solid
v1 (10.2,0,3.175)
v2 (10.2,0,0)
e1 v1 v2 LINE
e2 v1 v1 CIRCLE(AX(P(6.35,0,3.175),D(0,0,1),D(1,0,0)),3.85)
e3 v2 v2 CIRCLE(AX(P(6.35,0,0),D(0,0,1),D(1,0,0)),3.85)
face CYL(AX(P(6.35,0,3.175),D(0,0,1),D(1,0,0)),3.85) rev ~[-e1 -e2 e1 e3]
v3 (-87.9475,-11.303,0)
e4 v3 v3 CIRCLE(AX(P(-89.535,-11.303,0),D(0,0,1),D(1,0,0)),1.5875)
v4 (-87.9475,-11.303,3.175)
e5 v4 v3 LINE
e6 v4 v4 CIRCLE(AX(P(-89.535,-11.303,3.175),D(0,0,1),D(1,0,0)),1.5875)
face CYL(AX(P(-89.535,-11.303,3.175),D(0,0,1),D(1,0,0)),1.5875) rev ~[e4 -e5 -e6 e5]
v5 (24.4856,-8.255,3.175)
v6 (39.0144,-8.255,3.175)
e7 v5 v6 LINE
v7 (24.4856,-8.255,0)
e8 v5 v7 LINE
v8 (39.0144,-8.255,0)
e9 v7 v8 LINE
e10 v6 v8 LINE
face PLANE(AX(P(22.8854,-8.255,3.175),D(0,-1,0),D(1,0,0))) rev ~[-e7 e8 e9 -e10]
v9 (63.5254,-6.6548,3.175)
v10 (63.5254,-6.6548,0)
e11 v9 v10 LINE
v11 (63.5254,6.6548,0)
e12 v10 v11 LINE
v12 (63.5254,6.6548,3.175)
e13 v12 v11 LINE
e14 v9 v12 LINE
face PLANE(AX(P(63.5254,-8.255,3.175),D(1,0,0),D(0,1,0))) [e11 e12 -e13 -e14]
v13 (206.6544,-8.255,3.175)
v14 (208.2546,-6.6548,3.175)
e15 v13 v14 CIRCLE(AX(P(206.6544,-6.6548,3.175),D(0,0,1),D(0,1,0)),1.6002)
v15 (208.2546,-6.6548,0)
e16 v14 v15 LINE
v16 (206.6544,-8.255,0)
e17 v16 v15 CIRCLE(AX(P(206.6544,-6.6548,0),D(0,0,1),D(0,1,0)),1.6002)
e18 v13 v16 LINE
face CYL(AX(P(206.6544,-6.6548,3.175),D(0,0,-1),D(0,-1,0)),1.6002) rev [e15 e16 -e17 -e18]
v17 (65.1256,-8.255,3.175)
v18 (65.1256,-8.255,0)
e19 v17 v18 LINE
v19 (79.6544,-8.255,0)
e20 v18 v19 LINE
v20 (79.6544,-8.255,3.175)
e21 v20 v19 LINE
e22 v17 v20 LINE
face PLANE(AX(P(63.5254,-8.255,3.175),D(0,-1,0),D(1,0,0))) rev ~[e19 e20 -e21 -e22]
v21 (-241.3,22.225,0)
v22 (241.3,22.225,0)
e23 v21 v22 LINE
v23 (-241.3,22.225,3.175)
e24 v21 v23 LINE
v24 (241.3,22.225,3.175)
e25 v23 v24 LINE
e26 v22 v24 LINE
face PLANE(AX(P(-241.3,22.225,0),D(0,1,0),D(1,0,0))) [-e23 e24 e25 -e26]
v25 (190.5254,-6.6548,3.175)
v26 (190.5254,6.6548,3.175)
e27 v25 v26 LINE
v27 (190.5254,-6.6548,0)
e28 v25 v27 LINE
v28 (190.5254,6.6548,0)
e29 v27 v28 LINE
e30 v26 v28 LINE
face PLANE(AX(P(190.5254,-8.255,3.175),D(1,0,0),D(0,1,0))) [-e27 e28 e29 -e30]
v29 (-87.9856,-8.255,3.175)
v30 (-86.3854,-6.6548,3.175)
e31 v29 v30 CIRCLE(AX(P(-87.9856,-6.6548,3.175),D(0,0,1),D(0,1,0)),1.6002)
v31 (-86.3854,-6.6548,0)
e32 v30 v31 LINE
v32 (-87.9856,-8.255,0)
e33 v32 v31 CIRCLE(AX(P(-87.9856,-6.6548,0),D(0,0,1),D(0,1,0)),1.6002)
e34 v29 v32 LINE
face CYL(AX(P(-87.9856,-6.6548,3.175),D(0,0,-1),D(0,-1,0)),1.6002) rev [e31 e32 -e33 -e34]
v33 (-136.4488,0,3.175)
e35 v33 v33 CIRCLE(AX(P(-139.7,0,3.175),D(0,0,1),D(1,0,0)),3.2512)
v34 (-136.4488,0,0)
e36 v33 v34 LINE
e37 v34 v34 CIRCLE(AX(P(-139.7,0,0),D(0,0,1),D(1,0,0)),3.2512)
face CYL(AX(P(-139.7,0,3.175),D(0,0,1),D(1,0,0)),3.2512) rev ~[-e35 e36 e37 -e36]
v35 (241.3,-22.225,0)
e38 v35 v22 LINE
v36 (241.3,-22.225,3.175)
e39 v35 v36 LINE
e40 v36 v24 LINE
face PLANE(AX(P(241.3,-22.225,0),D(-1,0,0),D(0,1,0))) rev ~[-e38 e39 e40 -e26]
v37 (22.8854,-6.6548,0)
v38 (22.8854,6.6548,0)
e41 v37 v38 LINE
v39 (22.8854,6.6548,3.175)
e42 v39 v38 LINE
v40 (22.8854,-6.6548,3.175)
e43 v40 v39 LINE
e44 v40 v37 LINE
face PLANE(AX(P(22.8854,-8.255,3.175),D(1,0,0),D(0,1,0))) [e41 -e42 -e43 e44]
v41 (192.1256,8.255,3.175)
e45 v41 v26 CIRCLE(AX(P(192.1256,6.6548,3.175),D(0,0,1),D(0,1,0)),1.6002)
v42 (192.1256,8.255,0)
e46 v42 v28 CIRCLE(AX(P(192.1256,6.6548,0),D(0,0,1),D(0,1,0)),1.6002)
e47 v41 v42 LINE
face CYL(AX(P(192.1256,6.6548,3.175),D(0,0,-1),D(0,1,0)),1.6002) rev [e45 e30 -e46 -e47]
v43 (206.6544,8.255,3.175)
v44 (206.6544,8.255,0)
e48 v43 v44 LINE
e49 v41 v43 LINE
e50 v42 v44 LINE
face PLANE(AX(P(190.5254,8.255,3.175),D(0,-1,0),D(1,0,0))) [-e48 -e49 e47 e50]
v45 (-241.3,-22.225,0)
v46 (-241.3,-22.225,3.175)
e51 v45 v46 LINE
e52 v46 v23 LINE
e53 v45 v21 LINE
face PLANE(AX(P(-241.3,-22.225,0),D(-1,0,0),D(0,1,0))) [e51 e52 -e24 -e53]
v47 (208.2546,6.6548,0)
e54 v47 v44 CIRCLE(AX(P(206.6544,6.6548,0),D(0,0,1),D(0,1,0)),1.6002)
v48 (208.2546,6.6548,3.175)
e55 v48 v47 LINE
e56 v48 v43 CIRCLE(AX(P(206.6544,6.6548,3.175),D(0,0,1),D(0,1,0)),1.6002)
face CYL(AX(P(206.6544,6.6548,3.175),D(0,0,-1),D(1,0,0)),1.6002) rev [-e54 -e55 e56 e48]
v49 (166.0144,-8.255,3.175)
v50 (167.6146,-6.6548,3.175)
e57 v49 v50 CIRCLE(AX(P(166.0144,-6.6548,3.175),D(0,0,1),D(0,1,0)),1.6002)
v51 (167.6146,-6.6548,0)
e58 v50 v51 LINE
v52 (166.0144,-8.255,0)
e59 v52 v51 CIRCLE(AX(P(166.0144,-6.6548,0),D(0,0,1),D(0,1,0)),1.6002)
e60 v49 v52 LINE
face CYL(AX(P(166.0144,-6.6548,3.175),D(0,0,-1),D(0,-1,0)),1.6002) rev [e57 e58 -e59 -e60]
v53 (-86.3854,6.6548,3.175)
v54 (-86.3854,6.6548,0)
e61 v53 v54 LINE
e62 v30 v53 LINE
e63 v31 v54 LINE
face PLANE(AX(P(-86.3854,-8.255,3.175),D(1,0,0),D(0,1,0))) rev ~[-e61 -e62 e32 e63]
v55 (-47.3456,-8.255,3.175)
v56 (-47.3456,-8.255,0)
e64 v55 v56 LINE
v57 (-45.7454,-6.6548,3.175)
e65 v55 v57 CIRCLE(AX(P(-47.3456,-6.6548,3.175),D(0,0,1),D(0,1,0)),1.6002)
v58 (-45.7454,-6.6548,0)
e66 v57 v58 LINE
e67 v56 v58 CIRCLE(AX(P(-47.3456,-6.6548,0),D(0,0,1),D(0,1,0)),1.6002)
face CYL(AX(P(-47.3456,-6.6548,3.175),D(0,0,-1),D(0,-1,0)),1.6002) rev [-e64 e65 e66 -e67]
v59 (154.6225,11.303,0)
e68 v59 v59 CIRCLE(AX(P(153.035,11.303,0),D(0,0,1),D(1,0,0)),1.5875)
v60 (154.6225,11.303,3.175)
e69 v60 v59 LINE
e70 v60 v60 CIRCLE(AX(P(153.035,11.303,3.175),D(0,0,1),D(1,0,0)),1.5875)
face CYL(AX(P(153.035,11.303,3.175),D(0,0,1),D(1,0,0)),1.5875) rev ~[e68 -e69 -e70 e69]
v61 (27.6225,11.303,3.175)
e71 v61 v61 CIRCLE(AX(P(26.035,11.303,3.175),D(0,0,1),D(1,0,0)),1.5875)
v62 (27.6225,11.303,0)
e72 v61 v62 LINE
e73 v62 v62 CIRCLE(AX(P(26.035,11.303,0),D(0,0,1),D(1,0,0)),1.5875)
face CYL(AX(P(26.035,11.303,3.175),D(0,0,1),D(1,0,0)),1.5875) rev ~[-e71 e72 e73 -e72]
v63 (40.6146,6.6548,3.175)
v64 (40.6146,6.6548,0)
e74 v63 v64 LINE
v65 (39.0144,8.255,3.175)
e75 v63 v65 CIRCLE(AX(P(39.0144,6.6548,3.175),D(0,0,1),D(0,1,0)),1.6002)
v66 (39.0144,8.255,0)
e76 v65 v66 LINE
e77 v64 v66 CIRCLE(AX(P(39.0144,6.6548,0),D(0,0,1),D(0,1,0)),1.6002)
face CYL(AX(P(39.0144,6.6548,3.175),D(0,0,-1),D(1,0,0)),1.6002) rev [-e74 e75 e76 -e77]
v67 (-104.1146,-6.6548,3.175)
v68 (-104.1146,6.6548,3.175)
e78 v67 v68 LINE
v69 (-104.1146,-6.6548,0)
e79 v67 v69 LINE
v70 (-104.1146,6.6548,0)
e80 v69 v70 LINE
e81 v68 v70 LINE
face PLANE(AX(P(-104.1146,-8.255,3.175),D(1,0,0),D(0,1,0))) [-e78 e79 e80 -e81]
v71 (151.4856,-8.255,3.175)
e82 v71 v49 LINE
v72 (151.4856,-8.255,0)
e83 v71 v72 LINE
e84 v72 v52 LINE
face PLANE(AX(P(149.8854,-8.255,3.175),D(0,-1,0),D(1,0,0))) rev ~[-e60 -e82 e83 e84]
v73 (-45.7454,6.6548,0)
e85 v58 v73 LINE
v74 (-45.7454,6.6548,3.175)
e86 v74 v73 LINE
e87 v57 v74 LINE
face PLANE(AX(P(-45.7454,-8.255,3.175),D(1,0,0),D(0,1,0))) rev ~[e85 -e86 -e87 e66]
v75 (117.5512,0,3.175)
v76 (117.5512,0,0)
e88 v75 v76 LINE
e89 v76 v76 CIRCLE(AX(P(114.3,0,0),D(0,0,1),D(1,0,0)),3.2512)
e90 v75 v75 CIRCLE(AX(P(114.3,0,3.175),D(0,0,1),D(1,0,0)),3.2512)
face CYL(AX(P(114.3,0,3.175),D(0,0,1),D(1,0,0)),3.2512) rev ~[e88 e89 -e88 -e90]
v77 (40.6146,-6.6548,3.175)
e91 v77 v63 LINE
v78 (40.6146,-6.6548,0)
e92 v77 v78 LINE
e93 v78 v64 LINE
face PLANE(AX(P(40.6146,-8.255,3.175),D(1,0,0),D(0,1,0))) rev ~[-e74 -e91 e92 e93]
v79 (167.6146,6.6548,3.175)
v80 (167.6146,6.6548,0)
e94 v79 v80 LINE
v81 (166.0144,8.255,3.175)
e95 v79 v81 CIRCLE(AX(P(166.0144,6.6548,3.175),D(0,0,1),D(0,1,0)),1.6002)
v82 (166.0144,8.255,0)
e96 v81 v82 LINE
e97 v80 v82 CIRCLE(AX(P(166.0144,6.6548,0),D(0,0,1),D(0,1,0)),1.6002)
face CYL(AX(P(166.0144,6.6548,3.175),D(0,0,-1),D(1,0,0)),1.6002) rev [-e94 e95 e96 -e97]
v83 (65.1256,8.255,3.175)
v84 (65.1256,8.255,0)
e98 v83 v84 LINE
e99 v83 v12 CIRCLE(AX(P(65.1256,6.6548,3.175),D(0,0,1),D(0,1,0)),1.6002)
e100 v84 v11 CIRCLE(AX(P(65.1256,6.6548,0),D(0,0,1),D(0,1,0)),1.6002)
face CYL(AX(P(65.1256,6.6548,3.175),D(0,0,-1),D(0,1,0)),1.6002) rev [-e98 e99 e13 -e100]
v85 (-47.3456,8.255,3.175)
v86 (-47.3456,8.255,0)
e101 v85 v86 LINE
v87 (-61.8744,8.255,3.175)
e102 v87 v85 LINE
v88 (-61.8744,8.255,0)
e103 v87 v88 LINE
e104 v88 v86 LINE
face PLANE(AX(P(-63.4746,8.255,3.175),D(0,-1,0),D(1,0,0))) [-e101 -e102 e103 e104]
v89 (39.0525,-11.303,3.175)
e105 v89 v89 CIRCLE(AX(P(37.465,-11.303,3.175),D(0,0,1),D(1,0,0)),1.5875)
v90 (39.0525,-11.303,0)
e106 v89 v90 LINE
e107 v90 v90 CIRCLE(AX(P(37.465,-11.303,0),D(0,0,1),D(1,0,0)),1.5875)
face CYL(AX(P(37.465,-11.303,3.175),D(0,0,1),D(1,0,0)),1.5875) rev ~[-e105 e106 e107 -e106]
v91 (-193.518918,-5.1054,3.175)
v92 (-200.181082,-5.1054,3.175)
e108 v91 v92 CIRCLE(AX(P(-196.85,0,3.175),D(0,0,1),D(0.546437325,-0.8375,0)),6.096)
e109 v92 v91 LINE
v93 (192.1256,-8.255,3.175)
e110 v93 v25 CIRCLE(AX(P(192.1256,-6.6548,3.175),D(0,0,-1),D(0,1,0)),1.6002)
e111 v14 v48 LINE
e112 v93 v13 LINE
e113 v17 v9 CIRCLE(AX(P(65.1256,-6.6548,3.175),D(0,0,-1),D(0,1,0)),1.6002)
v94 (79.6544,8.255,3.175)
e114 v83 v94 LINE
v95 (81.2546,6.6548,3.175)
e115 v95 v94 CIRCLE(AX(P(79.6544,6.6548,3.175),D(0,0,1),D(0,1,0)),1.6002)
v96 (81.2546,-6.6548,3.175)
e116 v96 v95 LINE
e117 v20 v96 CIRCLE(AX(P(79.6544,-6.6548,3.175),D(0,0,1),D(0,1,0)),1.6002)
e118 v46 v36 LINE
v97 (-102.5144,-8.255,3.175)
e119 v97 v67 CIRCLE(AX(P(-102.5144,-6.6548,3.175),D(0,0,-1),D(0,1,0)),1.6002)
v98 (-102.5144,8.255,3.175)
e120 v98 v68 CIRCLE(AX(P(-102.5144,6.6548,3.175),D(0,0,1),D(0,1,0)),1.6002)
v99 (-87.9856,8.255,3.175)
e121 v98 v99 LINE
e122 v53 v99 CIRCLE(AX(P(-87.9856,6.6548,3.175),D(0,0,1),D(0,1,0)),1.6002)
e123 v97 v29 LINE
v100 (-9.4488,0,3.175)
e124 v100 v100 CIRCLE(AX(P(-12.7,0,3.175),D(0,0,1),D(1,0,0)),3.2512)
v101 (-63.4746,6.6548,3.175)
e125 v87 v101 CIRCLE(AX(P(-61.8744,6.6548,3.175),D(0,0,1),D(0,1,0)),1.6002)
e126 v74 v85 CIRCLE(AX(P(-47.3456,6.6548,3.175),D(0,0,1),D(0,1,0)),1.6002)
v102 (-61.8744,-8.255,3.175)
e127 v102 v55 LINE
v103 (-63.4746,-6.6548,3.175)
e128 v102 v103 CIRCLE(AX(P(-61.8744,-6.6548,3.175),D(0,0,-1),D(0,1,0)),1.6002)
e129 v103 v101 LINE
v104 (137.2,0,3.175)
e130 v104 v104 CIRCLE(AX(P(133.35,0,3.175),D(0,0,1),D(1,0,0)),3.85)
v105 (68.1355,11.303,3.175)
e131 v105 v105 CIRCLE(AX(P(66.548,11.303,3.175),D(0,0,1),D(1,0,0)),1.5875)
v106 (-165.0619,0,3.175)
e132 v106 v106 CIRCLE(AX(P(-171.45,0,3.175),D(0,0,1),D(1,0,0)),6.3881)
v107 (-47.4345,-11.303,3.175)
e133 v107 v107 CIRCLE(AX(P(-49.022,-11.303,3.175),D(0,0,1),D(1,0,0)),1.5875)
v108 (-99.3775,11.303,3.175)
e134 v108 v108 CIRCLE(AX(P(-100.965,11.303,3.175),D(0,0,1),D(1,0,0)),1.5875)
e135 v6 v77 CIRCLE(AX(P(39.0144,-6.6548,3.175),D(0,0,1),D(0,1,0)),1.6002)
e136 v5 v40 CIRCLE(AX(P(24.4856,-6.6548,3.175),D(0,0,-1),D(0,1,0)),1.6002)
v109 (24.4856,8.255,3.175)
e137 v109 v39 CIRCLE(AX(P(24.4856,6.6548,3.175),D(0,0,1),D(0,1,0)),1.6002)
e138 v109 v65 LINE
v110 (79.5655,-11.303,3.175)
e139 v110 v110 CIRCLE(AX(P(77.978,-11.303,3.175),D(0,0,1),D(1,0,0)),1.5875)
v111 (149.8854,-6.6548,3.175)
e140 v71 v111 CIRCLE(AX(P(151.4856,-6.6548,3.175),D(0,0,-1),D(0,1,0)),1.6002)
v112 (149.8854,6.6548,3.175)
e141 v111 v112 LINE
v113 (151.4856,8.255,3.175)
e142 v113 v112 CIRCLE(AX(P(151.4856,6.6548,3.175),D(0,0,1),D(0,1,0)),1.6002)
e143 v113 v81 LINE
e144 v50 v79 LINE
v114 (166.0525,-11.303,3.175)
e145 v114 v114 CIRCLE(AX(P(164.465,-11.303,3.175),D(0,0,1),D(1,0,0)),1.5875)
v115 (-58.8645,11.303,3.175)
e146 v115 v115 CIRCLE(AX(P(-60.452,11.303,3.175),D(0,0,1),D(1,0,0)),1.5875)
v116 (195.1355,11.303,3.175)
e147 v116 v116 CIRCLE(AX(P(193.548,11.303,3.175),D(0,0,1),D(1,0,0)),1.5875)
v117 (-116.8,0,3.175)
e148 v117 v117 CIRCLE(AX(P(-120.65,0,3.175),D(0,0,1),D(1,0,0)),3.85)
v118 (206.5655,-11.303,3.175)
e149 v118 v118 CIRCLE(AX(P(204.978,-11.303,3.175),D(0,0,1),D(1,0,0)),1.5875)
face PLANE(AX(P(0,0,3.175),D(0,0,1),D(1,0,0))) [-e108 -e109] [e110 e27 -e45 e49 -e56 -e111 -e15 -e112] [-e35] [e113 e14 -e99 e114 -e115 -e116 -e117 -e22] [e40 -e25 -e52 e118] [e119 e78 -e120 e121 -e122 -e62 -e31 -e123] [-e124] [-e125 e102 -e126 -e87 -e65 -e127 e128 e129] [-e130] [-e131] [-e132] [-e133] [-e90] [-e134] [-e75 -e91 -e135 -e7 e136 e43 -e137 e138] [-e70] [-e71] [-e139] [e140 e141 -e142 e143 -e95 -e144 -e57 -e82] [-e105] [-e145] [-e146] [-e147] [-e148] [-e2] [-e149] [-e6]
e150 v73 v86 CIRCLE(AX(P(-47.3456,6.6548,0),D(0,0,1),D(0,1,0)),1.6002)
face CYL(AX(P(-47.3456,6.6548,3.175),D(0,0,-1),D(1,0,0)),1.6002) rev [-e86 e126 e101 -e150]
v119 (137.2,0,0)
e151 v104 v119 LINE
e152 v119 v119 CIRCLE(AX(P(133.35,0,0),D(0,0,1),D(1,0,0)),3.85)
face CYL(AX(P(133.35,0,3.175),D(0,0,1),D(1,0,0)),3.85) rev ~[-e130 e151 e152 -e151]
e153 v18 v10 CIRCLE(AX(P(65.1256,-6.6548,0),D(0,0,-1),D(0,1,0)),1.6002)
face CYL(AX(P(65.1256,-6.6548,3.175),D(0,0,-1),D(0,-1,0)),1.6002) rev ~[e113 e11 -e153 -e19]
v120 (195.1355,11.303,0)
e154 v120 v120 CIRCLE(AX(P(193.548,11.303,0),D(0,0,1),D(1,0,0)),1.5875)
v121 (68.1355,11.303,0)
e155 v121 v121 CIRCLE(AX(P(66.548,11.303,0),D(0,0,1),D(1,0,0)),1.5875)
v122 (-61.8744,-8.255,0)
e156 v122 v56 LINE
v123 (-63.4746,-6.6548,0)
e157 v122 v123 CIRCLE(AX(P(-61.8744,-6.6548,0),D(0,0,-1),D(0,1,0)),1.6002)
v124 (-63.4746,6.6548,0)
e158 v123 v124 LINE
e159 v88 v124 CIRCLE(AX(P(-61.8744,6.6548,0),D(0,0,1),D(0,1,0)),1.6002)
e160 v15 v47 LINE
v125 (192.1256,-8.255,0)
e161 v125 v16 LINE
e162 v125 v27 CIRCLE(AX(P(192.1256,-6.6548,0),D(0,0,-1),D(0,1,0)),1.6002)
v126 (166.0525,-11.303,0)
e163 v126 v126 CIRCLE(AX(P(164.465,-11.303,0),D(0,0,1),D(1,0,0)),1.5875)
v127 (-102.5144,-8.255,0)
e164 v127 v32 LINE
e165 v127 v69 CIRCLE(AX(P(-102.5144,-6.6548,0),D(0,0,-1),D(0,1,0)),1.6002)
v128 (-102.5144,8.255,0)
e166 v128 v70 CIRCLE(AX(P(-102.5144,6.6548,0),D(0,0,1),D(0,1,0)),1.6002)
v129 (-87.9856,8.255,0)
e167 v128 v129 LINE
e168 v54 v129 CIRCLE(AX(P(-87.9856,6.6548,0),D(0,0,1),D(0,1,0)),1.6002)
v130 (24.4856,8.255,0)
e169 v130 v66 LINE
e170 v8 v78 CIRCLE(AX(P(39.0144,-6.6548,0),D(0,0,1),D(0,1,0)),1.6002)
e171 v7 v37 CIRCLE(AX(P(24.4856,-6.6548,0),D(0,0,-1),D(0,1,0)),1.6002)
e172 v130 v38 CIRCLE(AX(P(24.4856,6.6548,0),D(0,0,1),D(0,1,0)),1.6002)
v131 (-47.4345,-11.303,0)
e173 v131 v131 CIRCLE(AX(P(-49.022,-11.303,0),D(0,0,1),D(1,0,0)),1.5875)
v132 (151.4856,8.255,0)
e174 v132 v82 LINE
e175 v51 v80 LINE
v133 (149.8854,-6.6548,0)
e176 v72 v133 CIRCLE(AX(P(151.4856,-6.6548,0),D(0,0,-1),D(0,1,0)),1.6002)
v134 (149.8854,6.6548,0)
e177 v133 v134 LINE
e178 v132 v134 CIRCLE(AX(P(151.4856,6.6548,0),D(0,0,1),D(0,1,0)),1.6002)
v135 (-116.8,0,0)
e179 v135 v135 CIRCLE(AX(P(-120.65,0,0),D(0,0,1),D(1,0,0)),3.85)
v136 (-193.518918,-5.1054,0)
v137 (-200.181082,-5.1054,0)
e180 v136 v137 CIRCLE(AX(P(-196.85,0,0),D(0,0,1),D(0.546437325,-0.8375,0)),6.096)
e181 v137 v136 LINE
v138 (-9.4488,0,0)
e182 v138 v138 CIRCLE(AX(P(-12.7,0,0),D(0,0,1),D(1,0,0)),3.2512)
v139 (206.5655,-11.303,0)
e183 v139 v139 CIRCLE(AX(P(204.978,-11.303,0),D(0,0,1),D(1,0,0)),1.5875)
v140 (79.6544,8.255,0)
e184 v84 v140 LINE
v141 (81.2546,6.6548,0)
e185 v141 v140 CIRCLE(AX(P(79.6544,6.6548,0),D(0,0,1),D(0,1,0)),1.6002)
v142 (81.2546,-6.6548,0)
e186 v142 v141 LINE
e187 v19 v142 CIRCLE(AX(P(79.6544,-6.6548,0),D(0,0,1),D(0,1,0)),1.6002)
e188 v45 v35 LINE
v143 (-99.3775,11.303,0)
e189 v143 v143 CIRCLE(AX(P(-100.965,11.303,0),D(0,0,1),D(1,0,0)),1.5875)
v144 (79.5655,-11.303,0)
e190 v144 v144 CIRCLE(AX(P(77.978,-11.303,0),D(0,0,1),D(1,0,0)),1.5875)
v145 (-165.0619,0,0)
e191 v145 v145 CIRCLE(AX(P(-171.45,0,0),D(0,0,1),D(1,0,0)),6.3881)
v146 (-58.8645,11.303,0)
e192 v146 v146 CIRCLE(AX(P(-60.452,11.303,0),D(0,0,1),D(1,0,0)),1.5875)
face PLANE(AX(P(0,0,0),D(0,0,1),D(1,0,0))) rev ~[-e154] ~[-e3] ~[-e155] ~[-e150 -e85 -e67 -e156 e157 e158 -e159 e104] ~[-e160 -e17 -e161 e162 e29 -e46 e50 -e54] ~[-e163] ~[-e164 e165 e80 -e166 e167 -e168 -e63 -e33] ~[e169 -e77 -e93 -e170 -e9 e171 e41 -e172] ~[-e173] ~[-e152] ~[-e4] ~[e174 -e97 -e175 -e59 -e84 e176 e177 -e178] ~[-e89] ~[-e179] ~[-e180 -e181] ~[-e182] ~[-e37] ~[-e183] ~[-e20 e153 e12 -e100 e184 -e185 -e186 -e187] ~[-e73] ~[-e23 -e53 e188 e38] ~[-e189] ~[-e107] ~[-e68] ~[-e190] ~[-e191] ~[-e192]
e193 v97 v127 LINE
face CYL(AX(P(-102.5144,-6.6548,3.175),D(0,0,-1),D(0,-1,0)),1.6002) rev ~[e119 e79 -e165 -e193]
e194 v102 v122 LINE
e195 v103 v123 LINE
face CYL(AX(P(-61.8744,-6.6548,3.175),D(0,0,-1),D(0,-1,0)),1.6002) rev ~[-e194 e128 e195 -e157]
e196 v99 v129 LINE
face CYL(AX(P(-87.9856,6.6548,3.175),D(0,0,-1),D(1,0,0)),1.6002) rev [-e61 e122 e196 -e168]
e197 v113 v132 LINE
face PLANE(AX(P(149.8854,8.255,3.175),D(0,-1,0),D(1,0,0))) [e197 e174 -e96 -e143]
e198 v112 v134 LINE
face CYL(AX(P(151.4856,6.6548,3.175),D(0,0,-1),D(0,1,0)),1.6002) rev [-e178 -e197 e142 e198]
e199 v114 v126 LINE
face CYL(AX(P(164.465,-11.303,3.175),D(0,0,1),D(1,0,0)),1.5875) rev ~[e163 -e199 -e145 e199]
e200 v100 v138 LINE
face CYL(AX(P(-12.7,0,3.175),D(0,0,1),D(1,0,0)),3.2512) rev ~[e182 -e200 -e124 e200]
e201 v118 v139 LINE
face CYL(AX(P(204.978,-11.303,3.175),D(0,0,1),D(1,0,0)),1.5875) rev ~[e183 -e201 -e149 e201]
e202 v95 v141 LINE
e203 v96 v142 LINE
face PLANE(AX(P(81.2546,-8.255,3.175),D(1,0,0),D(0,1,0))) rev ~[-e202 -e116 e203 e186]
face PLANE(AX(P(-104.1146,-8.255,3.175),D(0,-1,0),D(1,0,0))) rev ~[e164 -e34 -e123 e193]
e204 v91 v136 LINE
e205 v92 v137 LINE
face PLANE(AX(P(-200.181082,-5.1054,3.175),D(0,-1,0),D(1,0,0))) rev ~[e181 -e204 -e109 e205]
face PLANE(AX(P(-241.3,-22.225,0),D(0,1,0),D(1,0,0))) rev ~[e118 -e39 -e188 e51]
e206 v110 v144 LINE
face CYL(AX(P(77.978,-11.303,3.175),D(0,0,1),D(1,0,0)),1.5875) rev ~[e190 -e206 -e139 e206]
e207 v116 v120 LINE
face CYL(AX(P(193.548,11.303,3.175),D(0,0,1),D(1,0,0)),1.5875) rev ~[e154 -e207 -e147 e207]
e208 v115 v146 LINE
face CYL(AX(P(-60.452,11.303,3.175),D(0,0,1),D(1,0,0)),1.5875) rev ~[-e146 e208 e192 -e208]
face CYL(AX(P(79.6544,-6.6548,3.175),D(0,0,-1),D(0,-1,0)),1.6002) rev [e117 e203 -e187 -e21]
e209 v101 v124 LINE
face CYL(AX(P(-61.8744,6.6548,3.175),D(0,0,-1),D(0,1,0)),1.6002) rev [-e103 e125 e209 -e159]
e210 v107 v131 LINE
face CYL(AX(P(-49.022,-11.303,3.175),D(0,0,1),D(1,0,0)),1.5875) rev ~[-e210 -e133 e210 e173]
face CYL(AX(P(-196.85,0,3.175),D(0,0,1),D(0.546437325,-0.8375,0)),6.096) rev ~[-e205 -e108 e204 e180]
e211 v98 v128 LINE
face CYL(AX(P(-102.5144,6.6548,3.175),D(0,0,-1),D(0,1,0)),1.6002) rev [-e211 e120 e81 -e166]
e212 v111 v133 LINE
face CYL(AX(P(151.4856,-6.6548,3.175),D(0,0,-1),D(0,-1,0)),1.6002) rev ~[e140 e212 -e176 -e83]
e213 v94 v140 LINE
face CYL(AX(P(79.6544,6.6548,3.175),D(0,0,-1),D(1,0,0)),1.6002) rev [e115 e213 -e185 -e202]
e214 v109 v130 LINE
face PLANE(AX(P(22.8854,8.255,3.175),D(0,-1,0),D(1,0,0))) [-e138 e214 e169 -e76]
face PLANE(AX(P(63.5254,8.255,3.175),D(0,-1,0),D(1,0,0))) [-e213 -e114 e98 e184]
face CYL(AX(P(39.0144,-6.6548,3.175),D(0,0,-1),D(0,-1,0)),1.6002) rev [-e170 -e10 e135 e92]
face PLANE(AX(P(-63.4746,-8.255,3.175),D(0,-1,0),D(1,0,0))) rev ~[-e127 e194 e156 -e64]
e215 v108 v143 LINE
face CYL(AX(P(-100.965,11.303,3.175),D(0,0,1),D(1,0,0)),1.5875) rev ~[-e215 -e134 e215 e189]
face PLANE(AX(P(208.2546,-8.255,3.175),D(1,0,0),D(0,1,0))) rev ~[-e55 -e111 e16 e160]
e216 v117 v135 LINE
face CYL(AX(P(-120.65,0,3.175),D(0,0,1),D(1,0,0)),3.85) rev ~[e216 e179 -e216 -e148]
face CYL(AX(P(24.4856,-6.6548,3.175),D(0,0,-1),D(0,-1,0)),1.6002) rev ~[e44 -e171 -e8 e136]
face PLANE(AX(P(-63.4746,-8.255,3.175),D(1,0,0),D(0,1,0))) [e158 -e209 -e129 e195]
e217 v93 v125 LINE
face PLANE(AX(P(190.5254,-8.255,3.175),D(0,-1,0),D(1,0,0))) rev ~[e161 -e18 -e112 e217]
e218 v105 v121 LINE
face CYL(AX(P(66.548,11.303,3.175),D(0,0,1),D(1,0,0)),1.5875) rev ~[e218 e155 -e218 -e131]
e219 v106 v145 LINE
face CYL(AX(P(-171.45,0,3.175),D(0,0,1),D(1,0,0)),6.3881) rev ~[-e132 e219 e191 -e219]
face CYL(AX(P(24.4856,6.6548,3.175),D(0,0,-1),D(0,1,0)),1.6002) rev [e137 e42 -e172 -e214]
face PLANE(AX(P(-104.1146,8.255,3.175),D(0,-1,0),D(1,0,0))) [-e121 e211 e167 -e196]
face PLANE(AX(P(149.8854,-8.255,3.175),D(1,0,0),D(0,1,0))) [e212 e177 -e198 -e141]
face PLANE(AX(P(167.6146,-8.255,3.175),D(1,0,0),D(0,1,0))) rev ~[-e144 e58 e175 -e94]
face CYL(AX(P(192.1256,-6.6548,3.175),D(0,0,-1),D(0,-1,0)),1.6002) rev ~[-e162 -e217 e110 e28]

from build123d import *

# Parameters (mm, degrees)
SKETCH1_W              = 482.6
SKETCH1_H              = 44.45
BOSS_EXTRUDE1_DEPTH    = 3.175
SKETCH4_R              = 6.3881
CUT_EXTRUDE1_DEPTH     = 4.175
SKETCH3_R              = 3.85
SKETCH3_R_2            = 3.2512
SKETCH3_R_3            = 1.5875
SKETCH3_W              = 17.7292
SKETCH3_H              = 16.51
CUT_EXTRUDE2_DEPTH     = 4.175
FILLET1_R              = 1.6002
LPATTERN1_COUNT        = 3
LPATTERN1_PITCH        = 127
FILLET1_OF_LPATTERN1_R = 1.6002


with BuildPart() as part:
    # Sketch1 → Boss-Extrude1 (new body)
    with BuildSketch(Plane.XY):
        Rectangle(SKETCH1_W, SKETCH1_H)
    extrude(amount=BOSS_EXTRUDE1_DEPTH)

    # Sketch4 → Cut-Extrude1 (cut, through all)
    with BuildSketch(Plane.XY.offset(3.175)):
        with Locations((-171.45, 0)):
            Circle(SKETCH4_R)
        with BuildLine():
            Line((-200.181081932, -5.1054), (-193.518918068, -5.1054))
            ThreePointArc((-193.518918068, -5.1054), (-196.85, 6.096), (-200.181081932, -5.1054))
        make_face()
    extrude(amount=-CUT_EXTRUDE1_DEPTH, mode=Mode.SUBTRACT)

    # Sketch3 → Cut-Extrude2 (cut, through all)
    with BuildSketch(Plane.XY.offset(3.175)):
        with Locations((-120.65, 0)):
            Circle(SKETCH3_R)
        with Locations((-139.7, 0)):
            Circle(SKETCH3_R_2)
        with Locations((-100.965, 11.303)):
            Circle(SKETCH3_R_3)
        with Locations((-89.535, -11.303)):
            Circle(SKETCH3_R_3)
        with Locations((-60.452, 11.303)):
            Circle(SKETCH3_R_3)
        with Locations((-49.022, -11.303)):
            Circle(SKETCH3_R_3)
        with Locations((-95.25, 0)):
            Rectangle(SKETCH3_W, SKETCH3_H)
        with Locations((-54.61, 0)):
            Rectangle(SKETCH3_W, SKETCH3_H)
    cut_extrude2 = extrude(amount=-CUT_EXTRUDE2_DEPTH, mode=Mode.SUBTRACT)

    # Fillet1
    fillet1_edges = [part.edges().sort_by_distance(p)[0] for p in [
        (-45.7454, 8.255, 1.5875),
        (-45.7454, -8.255, 1.5875),
        (-63.4746, -8.255, 1.5875),
        (-63.4746, 8.255, 1.5875),
        (-86.3854, 8.255, 1.5875),
        (-86.3854, -8.255, 1.5875),
        (-104.1146, -8.255, 1.5875),
        (-104.1146, 8.255, 1.5875),
    ]]
    fillet(fillet1_edges, radius=FILLET1_R)

    # LPattern1: Cut-Extrude2 ×3
    with Locations(*[(i * LPATTERN1_PITCH, 0, 0) for i in range(1, LPATTERN1_COUNT)]):
        add(cut_extrude2, mode=Mode.SUBTRACT)

    # Fillet1 of LPattern1
    fillet1_of_lpattern1_edges = [part.edges().sort_by_distance(p)[0] for p in [
        (81.2546, 8.255, 1.5875),
        (81.2546, -8.255, 1.5875),
        (63.5254, -8.255, 1.5875),
        (63.5254, 8.255, 1.5875),
        (40.6146, 8.255, 1.5875),
        (40.6146, -8.255, 1.5875),
        (22.8854, -8.255, 1.5875),
        (22.8854, 8.255, 1.5875),
        (208.2546, 8.255, 1.5875),
        (208.2546, -8.255, 1.5875),
        (190.5254, -8.255, 1.5875),
        (190.5254, 8.255, 1.5875),
        (167.6146, 8.255, 1.5875),
        (167.6146, -8.255, 1.5875),
        (149.8854, -8.255, 1.5875),
        (149.8854, 8.255, 1.5875),
    ]]
    fillet(fillet1_of_lpattern1_edges, radius=FILLET1_OF_LPATTERN1_R)


solid = part.part
